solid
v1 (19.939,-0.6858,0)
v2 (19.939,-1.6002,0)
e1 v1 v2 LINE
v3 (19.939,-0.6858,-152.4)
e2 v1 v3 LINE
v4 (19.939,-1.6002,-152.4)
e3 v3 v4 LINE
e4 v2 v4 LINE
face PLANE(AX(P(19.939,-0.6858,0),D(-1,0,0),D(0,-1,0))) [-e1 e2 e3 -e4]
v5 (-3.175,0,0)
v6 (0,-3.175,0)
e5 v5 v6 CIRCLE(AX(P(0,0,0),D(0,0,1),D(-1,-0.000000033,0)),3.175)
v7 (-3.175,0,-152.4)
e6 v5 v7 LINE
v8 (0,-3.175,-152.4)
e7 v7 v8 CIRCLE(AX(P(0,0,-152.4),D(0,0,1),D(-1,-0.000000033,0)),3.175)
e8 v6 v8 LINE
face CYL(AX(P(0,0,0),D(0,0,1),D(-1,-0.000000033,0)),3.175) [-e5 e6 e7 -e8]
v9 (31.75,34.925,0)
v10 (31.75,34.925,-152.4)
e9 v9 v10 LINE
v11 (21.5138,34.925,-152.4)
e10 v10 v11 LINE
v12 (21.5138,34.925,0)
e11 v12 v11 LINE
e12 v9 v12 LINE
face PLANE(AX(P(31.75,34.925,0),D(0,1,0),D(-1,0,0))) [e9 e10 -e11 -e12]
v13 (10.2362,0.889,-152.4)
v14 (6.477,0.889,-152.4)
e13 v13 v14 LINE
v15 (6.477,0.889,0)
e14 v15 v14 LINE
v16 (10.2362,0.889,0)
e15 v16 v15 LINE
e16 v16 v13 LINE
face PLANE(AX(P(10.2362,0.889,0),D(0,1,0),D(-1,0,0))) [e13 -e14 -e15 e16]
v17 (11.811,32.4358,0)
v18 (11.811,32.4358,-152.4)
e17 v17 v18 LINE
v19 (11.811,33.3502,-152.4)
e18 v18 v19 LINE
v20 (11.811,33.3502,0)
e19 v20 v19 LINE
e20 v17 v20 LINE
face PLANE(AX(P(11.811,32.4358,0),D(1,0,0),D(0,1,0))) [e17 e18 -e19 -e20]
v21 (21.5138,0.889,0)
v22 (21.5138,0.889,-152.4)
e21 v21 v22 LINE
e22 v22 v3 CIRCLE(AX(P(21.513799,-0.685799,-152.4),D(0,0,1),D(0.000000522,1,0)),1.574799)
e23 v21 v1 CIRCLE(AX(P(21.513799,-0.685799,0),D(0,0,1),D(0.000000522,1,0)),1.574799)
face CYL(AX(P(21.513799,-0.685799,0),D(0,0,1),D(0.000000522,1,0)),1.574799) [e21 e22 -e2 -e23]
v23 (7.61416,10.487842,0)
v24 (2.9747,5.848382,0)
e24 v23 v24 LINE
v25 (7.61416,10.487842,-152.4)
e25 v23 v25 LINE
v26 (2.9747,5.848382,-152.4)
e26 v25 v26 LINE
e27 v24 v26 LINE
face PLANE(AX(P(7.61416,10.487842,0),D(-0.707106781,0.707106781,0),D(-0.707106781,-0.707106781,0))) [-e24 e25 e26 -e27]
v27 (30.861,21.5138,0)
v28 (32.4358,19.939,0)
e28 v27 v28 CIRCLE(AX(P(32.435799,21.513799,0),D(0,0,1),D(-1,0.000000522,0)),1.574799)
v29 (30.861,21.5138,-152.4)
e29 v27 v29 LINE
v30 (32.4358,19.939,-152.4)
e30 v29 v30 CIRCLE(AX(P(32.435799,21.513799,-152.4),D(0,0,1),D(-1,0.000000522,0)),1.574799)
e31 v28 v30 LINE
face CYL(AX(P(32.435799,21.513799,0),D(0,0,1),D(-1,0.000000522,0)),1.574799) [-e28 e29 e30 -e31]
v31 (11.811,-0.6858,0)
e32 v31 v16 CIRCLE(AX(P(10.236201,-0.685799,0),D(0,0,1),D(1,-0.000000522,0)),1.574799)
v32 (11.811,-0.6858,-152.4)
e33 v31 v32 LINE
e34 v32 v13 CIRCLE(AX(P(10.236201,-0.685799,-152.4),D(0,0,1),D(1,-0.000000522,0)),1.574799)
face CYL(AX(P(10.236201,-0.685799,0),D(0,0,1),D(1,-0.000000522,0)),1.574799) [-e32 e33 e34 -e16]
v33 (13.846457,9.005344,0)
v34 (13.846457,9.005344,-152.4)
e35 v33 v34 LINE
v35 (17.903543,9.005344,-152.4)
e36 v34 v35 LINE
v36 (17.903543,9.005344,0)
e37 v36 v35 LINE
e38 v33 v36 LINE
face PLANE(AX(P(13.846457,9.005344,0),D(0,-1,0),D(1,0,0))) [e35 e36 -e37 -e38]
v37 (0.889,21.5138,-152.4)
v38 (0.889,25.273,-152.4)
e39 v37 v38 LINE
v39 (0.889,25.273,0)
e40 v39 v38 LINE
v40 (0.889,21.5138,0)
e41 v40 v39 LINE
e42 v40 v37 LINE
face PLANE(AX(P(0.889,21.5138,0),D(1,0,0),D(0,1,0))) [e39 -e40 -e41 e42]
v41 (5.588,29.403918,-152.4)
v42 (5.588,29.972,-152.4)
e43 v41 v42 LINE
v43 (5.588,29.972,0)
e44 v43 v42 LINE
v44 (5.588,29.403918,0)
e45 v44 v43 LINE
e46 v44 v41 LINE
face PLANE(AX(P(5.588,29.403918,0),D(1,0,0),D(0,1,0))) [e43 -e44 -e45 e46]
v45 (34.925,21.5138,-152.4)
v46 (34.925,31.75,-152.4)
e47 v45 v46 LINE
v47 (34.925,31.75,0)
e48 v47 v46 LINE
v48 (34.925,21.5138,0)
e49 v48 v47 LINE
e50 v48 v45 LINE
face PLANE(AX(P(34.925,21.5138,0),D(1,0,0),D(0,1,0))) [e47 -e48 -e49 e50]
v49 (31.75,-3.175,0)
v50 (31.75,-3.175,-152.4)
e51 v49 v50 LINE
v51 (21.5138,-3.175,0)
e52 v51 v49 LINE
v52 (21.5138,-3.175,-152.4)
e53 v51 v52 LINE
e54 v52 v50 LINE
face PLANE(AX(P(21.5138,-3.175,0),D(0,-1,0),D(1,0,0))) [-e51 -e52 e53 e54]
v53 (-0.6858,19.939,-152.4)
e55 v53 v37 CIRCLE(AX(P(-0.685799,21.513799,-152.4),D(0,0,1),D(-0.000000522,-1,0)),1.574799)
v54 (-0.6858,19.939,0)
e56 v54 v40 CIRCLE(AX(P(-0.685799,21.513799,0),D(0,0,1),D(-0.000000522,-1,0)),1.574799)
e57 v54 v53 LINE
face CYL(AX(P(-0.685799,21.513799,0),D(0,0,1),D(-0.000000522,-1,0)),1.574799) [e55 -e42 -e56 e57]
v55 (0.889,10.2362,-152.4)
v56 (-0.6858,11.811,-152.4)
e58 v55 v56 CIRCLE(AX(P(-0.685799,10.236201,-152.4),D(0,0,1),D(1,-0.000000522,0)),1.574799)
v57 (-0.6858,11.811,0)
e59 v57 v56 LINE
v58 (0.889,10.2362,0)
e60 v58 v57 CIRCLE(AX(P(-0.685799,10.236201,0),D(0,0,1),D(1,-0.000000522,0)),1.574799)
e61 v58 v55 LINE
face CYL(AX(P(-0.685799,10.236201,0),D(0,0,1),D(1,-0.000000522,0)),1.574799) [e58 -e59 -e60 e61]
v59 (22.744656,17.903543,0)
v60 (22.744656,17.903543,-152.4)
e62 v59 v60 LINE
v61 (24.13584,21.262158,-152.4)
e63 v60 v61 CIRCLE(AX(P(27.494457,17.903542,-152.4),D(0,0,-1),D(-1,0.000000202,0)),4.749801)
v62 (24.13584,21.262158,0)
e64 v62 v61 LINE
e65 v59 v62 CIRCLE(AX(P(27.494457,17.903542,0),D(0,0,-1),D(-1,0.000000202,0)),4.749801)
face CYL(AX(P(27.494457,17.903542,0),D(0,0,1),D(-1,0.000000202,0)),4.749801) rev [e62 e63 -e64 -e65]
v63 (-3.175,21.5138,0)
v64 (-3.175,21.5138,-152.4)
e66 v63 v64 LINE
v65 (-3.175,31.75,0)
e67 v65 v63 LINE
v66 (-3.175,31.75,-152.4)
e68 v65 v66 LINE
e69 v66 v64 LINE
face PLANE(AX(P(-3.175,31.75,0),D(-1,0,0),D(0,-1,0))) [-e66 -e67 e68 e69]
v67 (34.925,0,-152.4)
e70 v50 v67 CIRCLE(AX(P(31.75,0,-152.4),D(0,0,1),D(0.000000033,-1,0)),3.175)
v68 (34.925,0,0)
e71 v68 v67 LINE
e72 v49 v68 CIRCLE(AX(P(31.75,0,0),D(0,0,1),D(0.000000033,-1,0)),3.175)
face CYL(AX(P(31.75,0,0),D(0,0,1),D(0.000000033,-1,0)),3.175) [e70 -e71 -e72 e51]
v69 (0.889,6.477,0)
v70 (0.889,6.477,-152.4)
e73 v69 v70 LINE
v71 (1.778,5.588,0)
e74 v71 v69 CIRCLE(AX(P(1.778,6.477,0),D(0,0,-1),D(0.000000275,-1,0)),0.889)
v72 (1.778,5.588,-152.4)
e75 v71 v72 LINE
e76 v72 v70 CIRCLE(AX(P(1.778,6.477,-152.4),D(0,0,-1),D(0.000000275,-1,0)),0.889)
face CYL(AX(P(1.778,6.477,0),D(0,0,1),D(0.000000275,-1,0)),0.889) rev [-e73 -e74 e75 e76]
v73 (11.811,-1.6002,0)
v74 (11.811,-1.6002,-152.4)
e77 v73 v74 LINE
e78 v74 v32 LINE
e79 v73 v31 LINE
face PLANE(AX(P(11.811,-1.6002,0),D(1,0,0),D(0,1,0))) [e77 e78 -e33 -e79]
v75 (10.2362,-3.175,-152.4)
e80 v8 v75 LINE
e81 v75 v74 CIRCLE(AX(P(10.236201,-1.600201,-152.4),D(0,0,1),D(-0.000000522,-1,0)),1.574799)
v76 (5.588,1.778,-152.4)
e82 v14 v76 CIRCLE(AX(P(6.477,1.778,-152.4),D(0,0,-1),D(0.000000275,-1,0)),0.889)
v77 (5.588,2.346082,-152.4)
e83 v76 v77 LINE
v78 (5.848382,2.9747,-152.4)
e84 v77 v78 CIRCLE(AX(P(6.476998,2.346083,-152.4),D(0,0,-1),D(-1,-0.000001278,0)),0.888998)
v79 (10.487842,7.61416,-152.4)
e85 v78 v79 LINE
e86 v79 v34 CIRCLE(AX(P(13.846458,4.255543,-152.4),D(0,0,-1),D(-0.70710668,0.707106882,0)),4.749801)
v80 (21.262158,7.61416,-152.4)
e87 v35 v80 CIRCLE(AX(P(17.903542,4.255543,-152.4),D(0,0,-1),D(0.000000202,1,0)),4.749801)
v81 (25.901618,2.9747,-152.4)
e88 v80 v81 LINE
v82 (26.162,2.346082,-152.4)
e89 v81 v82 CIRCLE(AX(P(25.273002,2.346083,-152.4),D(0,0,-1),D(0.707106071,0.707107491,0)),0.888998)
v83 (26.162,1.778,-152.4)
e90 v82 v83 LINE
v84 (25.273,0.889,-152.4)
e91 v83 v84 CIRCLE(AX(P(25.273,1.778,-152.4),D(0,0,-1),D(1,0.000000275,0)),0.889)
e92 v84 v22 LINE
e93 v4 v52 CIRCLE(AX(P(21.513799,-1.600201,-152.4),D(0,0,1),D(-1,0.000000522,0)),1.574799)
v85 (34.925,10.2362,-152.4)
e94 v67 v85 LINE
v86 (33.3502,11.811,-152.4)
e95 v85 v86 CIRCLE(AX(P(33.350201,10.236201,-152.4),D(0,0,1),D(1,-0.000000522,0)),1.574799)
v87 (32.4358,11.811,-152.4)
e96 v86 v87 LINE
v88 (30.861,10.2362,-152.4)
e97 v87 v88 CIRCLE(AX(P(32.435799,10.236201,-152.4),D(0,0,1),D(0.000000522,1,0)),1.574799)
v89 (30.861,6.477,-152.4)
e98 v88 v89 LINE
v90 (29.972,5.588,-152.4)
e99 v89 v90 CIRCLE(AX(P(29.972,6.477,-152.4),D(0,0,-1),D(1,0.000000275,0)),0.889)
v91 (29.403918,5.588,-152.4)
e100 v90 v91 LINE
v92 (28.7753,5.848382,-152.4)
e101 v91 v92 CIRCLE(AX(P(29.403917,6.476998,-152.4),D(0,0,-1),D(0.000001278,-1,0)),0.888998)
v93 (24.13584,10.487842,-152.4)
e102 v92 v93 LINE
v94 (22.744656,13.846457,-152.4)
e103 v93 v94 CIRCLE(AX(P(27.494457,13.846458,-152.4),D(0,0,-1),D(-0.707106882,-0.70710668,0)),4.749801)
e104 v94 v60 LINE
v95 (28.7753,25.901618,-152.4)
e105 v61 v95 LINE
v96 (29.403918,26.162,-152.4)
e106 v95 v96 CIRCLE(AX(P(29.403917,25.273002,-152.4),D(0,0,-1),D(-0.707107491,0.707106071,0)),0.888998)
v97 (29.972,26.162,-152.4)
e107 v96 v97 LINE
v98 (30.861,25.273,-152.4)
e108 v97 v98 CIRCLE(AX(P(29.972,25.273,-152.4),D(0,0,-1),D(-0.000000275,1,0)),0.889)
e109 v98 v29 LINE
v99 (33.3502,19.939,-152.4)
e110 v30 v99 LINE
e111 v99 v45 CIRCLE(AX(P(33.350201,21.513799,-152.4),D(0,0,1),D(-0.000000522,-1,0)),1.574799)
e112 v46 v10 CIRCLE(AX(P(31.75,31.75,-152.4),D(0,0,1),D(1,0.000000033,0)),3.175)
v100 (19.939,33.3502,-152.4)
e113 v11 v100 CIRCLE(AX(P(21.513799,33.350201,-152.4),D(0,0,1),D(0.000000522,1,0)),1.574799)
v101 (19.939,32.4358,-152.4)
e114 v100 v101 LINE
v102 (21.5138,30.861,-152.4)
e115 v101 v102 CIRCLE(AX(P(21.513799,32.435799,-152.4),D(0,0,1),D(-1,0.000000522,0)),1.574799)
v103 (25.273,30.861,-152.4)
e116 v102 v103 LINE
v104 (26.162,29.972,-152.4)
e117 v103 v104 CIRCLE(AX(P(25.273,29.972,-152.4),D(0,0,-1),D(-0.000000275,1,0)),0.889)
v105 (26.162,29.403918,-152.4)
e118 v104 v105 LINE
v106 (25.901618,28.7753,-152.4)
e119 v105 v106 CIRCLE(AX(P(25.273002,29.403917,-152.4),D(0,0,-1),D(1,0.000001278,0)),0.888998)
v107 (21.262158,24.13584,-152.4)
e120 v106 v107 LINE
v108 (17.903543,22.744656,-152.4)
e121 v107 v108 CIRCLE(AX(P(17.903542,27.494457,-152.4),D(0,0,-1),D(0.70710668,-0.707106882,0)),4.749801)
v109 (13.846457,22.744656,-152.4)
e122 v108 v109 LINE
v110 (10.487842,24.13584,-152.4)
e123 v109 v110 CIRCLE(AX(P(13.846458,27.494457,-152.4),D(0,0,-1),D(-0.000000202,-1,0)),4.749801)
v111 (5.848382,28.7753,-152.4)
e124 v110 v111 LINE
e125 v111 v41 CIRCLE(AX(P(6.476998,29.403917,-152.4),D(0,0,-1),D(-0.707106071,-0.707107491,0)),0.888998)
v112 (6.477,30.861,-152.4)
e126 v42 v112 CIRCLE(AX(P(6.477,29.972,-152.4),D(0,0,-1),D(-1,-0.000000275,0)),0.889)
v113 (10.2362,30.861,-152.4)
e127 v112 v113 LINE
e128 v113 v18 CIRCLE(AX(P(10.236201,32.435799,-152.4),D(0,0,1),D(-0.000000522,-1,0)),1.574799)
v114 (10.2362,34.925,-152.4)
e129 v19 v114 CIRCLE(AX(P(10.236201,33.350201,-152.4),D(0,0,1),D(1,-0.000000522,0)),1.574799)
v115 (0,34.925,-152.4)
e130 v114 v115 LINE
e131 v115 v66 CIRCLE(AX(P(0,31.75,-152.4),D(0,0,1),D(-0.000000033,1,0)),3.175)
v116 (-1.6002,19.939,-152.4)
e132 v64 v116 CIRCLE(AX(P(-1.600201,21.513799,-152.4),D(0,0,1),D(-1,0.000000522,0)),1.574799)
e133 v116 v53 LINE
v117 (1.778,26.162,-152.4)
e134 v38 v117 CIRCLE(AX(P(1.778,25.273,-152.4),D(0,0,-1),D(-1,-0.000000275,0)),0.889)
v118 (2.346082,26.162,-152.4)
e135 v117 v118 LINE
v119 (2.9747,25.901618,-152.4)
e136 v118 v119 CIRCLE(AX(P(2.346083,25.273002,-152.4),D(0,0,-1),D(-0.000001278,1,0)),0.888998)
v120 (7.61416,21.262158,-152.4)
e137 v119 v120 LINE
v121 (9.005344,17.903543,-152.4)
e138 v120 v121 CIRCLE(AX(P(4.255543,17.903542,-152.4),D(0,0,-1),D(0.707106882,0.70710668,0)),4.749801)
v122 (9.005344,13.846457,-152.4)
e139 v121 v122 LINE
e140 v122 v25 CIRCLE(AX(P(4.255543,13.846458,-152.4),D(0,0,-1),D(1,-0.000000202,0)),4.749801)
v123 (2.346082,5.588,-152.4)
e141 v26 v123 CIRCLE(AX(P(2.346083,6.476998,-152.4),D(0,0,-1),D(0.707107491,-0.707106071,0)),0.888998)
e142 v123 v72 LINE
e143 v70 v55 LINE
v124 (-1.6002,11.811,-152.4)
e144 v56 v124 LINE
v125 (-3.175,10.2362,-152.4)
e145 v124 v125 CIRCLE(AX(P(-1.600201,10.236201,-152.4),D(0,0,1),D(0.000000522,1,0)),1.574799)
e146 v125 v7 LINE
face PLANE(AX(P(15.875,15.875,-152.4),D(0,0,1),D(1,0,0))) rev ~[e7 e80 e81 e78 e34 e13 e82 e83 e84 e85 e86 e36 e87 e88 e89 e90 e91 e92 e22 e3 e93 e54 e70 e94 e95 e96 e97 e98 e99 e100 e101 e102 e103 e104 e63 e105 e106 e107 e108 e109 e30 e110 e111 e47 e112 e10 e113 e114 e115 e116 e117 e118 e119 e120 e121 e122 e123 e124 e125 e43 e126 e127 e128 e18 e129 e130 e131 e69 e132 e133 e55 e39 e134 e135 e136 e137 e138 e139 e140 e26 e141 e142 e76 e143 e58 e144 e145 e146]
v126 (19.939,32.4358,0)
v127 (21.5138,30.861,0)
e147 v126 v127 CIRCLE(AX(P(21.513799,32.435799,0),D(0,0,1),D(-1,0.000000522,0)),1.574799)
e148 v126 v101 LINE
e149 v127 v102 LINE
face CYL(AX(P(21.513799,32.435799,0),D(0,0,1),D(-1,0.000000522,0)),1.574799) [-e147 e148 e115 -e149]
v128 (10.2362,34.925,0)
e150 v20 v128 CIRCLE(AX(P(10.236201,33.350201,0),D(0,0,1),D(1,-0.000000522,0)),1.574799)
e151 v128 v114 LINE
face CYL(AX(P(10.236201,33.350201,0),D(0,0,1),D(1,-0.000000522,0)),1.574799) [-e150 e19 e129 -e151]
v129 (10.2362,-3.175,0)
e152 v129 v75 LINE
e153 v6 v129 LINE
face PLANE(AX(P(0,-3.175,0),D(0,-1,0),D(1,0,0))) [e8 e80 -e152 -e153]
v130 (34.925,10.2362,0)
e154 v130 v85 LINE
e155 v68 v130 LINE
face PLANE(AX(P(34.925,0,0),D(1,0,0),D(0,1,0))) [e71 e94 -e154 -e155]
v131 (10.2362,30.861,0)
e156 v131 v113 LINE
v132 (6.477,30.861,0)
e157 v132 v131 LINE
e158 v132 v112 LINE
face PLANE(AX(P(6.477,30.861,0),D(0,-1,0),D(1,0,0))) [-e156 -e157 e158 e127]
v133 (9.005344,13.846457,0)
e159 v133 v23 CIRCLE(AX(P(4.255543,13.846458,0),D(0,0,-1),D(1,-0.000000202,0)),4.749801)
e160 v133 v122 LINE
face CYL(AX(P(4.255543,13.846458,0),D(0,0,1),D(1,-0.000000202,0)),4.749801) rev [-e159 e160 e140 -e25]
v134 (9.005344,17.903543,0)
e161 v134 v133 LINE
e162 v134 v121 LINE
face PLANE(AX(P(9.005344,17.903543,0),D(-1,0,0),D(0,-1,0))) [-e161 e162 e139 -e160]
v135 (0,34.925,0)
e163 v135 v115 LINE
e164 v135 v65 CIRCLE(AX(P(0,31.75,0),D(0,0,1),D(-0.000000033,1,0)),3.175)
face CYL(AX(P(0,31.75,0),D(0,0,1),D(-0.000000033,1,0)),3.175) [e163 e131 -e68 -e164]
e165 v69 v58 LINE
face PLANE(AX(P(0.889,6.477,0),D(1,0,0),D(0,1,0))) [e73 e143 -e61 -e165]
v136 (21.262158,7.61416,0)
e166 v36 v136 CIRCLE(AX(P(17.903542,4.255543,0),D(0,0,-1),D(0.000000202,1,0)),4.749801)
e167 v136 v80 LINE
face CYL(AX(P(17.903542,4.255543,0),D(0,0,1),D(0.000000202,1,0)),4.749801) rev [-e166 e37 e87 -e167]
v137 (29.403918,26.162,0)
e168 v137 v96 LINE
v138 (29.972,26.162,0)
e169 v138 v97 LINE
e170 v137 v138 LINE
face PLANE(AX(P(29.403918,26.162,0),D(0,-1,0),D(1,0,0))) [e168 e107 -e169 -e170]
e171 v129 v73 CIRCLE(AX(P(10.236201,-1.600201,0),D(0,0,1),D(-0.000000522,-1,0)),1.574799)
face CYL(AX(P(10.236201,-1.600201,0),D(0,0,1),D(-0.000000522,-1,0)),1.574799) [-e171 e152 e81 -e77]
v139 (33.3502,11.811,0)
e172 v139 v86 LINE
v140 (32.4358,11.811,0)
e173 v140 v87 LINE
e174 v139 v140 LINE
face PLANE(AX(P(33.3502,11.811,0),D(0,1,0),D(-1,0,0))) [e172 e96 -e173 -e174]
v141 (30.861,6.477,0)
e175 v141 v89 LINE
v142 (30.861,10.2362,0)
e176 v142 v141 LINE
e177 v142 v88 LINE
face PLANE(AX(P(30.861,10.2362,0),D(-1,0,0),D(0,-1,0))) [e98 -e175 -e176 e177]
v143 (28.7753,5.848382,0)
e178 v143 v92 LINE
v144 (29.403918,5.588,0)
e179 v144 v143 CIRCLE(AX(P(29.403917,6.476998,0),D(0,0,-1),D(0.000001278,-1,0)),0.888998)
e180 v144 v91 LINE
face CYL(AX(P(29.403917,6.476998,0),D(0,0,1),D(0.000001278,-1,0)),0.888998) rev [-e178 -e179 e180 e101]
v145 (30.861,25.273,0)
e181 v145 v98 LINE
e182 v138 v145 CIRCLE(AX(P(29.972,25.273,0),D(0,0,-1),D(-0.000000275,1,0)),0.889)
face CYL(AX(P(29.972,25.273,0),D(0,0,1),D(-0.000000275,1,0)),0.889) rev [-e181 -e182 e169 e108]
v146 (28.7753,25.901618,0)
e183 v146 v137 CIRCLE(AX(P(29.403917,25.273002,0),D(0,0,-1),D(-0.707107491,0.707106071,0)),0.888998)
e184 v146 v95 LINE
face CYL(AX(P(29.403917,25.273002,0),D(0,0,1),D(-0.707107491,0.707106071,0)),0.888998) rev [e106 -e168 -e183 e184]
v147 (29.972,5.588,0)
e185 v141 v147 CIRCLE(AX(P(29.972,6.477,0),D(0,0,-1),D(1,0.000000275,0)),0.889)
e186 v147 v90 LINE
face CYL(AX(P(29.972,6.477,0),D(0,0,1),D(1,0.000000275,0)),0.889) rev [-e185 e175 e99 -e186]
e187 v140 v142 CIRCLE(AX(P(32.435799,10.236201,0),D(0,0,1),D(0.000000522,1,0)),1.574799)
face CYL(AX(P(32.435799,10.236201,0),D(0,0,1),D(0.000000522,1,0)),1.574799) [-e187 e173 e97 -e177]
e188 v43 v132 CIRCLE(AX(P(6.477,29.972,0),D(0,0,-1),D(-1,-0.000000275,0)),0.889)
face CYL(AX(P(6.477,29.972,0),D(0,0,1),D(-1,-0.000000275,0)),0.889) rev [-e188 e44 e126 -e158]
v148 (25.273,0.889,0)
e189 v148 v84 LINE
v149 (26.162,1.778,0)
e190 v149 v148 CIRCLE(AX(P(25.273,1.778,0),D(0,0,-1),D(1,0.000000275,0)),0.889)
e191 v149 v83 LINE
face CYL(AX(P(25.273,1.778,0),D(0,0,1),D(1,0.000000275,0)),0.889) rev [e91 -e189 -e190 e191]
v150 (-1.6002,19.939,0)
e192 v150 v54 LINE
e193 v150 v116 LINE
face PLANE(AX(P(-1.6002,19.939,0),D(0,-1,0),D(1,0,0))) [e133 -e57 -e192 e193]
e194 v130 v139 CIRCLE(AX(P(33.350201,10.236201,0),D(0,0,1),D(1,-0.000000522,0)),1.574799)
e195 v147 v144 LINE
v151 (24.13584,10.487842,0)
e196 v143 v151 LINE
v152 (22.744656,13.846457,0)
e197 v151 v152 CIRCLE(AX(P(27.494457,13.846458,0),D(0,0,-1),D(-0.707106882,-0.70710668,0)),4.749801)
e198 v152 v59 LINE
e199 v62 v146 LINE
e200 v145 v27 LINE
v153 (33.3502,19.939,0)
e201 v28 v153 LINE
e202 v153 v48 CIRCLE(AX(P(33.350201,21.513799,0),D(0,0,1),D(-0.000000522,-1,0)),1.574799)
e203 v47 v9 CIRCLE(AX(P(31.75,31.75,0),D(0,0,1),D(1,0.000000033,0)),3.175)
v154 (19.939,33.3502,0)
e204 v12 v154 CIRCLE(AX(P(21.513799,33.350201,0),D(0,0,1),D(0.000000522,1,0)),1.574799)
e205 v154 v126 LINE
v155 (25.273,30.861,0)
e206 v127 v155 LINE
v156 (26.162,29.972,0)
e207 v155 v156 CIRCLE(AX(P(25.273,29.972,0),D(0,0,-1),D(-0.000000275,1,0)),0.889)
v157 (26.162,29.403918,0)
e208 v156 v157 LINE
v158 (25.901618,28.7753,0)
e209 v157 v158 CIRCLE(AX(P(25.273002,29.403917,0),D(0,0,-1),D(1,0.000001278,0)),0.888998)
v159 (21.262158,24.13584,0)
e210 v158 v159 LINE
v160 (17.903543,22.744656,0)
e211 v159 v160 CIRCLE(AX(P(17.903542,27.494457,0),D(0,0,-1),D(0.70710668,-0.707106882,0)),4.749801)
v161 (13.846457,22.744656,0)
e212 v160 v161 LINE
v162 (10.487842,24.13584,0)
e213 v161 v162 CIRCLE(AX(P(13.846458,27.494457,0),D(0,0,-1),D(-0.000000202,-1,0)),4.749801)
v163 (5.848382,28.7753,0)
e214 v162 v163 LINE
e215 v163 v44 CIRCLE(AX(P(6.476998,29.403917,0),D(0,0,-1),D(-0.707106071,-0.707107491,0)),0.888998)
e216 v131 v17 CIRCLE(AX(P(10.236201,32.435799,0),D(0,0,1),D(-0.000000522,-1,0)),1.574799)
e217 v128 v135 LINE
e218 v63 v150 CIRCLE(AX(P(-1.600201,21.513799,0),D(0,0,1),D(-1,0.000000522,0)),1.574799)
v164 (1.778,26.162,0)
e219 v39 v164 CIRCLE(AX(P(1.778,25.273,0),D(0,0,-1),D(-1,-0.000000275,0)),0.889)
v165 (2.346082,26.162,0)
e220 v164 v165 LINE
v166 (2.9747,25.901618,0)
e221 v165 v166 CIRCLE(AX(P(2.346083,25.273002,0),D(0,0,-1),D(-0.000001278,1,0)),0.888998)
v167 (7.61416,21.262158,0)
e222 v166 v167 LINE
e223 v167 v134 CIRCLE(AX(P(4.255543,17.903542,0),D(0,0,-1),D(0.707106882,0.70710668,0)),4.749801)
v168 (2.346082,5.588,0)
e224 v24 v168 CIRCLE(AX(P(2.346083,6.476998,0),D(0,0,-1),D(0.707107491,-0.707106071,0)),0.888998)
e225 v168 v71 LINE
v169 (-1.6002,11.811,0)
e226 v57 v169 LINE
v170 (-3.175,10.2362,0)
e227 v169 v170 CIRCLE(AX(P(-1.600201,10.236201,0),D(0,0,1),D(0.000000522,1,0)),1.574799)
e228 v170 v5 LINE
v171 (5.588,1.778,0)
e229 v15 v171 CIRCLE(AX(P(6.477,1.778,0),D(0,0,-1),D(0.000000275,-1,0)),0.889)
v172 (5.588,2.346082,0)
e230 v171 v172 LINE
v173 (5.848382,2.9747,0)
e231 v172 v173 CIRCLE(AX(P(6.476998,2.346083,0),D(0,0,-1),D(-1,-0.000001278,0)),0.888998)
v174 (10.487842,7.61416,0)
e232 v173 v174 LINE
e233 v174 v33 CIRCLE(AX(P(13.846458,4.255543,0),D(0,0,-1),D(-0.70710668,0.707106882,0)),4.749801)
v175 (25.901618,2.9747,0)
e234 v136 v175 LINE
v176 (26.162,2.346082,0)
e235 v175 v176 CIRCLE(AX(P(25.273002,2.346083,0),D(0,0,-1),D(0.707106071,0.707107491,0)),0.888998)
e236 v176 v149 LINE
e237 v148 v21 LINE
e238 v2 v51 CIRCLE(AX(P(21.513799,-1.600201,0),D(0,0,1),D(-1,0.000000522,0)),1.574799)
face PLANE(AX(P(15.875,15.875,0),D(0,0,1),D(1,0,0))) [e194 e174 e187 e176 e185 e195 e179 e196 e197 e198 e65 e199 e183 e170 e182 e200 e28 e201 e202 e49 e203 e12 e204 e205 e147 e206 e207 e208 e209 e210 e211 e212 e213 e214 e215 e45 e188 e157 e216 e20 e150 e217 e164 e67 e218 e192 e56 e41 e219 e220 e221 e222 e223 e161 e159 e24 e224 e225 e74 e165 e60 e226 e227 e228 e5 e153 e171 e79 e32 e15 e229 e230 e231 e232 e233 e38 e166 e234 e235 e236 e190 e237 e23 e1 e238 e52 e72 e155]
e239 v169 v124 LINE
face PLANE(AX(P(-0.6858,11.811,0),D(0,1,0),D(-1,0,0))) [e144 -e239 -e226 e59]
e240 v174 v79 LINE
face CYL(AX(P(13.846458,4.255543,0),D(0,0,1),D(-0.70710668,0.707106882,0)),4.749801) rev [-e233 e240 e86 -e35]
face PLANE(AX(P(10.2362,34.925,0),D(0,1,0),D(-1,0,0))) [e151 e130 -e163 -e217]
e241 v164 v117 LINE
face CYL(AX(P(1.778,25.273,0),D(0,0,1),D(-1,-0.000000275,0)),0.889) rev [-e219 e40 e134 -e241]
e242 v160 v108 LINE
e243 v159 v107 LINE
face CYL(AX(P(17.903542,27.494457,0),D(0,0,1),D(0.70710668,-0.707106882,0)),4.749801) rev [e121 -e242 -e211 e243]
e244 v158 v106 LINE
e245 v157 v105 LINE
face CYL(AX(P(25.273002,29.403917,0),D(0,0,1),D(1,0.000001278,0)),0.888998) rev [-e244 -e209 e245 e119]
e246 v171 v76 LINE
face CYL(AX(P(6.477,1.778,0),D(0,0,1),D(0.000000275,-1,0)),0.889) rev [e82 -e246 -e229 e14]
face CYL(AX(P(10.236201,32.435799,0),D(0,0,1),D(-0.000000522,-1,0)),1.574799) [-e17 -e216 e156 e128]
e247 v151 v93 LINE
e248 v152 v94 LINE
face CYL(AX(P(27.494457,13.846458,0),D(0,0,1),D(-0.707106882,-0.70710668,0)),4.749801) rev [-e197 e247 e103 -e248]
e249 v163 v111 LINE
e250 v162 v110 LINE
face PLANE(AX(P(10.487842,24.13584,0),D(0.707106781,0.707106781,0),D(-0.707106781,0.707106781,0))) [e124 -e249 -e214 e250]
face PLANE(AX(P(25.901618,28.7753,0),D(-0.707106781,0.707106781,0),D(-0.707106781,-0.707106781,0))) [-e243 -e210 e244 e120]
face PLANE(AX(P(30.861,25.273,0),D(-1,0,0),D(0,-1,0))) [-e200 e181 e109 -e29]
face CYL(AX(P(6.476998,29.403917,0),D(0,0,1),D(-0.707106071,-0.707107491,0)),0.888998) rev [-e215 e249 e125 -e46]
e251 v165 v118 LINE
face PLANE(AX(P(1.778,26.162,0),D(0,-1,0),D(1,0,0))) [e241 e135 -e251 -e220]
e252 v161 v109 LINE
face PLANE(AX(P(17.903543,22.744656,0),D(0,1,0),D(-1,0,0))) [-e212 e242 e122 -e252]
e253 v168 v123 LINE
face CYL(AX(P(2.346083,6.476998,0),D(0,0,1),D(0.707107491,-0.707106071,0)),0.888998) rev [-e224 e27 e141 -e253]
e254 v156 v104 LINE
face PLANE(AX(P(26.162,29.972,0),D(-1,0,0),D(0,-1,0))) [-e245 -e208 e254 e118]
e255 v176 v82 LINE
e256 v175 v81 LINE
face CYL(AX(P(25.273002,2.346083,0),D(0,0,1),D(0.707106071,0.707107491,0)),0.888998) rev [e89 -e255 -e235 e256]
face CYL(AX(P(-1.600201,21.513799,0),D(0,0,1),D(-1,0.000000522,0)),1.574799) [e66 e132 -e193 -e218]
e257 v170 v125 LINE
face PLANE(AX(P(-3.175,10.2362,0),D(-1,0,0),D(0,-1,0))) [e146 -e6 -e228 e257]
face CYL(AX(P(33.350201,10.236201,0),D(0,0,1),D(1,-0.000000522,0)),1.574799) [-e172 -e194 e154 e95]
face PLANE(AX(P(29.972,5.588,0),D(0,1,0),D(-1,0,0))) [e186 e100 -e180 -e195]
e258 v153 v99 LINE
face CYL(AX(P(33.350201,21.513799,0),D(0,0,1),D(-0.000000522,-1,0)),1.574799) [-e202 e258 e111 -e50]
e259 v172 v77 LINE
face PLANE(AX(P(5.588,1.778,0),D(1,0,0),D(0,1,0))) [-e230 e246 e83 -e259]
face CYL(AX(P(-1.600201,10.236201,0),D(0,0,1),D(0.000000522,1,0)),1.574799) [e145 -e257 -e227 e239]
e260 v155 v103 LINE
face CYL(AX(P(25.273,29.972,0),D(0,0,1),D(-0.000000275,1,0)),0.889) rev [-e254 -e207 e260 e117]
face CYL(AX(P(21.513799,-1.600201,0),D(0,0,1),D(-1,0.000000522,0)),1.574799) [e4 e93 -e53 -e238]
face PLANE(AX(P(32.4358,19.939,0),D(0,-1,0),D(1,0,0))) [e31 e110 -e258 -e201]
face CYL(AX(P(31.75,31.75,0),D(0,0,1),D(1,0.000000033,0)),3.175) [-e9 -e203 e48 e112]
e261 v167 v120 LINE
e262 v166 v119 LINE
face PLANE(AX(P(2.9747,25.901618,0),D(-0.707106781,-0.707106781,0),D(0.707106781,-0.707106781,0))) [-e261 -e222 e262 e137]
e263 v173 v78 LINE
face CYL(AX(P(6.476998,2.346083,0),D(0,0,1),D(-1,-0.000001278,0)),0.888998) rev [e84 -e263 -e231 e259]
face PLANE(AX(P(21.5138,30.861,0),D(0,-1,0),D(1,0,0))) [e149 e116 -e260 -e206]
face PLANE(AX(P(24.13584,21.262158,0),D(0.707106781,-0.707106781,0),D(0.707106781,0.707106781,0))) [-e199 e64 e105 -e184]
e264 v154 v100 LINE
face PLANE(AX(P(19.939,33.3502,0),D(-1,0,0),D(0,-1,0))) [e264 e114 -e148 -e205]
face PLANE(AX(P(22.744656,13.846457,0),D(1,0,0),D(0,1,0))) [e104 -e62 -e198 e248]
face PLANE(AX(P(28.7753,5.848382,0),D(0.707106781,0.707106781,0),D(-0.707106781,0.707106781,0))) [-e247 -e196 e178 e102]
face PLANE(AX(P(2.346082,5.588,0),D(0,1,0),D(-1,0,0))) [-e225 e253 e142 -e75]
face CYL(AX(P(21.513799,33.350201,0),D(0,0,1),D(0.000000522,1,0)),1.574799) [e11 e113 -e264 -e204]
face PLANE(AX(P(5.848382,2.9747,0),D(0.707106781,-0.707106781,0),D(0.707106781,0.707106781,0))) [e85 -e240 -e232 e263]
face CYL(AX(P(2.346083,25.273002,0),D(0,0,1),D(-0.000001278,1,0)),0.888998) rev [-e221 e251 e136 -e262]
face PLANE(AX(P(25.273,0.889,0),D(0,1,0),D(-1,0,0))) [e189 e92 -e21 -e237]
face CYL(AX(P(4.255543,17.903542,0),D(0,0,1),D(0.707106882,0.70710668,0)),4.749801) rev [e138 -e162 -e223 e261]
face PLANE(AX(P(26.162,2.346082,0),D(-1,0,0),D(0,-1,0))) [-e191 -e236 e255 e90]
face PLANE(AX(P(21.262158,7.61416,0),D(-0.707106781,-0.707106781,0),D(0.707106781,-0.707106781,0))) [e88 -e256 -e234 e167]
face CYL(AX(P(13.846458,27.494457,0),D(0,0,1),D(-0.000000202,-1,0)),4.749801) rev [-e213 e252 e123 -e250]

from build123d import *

# Parameters (mm, degrees)
F1_DEPTH = 152.4


with BuildPart() as f1:
    # F0 (on Top) → F1 (new body)
    with BuildSketch(Plane.XY):
        with BuildLine():
            ThreePointArc((0, 34.925), (-2.245064, 33.995064), (-3.175, 31.75))
            Line((-3.175, 31.75), (-3.175, 21.5138))
            ThreePointArc((-3.175, 21.5138), (-2.713752, 20.400248), (-1.6002, 19.939))
            Line((-1.6002, 19.939), (-0.6858, 19.939))
            ThreePointArc((-0.6858, 19.939), (0.427752, 20.400248), (0.889, 21.5138))
            Line((0.889, 21.5138), (0.889, 25.273))
            ThreePointArc((0.889, 25.273), (1.149382, 25.901618), (1.778, 26.162))
            Line((1.778, 26.162), (2.346082, 26.162))
            ThreePointArc((2.346082, 26.162), (2.686288, 26.094329), (2.9747, 25.901618))
            Line((2.9747, 25.901618), (7.61416, 21.262158))
            ThreePointArc((7.61416, 21.262158), (8.643787, 19.721212), (9.005344, 17.903543))
            Line((9.005344, 17.903543), (9.005344, 13.846457))
            ThreePointArc((9.005344, 13.846457), (8.643787, 12.028788), (7.61416, 10.487842))
            Line((7.61416, 10.487842), (2.9747, 5.848382))
            ThreePointArc((2.9747, 5.848382), (2.686288, 5.655671), (2.346082, 5.588))
            Line((2.346082, 5.588), (1.778, 5.588))
            ThreePointArc((1.778, 5.588), (1.149382, 5.848382), (0.889, 6.477))
            Line((0.889, 6.477), (0.889, 10.2362))
            ThreePointArc((0.889, 10.2362), (0.427752, 11.349752), (-0.6858, 11.811))
            Line((-0.6858, 11.811), (-1.6002, 11.811))
            ThreePointArc((-1.6002, 11.811), (-2.713752, 11.349752), (-3.175, 10.2362))
            Line((-3.175, 10.2362), (-3.175, 0))
            ThreePointArc((-3.175, 0), (-2.245064, -2.245064), (0, -3.175))
            Line((0, -3.175), (10.2362, -3.175))
            ThreePointArc((10.2362, -3.175), (11.349752, -2.713752), (11.811, -1.6002))
            Line((11.811, -1.6002), (11.811, -0.6858))
            ThreePointArc((11.811, -0.6858), (11.349752, 0.427752), (10.2362, 0.889))
            Line((10.2362, 0.889), (6.477, 0.889))
            ThreePointArc((6.477, 0.889), (5.848382, 1.149382), (5.588, 1.778))
            Line((5.588, 1.778), (5.588, 2.346082))
            ThreePointArc((5.588, 2.346082), (5.655671, 2.686288), (5.848382, 2.9747))
            Line((5.848382, 2.9747), (10.487842, 7.61416))
            ThreePointArc((10.487842, 7.61416), (12.028788, 8.643787), (13.846457, 9.005344))
            Line((13.846457, 9.005344), (17.903543, 9.005344))
            ThreePointArc((17.903543, 9.005344), (19.721212, 8.643787), (21.262158, 7.61416))
            Line((21.262158, 7.61416), (25.901618, 2.9747))
            ThreePointArc((25.901618, 2.9747), (26.094329, 2.686288), (26.162, 2.346082))
            Line((26.162, 2.346082), (26.162, 1.778))
            ThreePointArc((26.162, 1.778), (25.901618, 1.149382), (25.273, 0.889))
            Line((25.273, 0.889), (21.5138, 0.889))
            ThreePointArc((21.5138, 0.889), (20.400248, 0.427752), (19.939, -0.6858))
            Line((19.939, -0.6858), (19.939, -1.6002))
            ThreePointArc((19.939, -1.6002), (20.400248, -2.713752), (21.5138, -3.175))
            Line((21.5138, -3.175), (31.75, -3.175))
            ThreePointArc((31.75, -3.175), (33.995064, -2.245064), (34.925, 0))
            Line((34.925, 0), (34.925, 10.2362))
            ThreePointArc((34.925, 10.2362), (34.463752, 11.349752), (33.3502, 11.811))
            Line((33.3502, 11.811), (32.4358, 11.811))
            ThreePointArc((32.4358, 11.811), (31.322248, 11.349752), (30.861, 10.2362))
            Line((30.861, 10.2362), (30.861, 6.477))
            ThreePointArc((30.861, 6.477), (30.600618, 5.848382), (29.972, 5.588))
            Line((29.972, 5.588), (29.403918, 5.588))
            ThreePointArc((29.403918, 5.588), (29.063712, 5.655671), (28.7753, 5.848382))
            Line((28.7753, 5.848382), (24.13584, 10.487842))
            ThreePointArc((24.13584, 10.487842), (23.106213, 12.028788), (22.744656, 13.846457))
            Line((22.744656, 13.846457), (22.744656, 17.903543))
            ThreePointArc((22.744656, 17.903543), (23.106213, 19.721212), (24.13584, 21.262158))
            Line((24.13584, 21.262158), (28.7753, 25.901618))
            ThreePointArc((28.7753, 25.901618), (29.063712, 26.094329), (29.403918, 26.162))
            Line((29.403918, 26.162), (29.972, 26.162))
            ThreePointArc((29.972, 26.162), (30.600618, 25.901618), (30.861, 25.273))
            Line((30.861, 25.273), (30.861, 21.5138))
            ThreePointArc((30.861, 21.5138), (31.322248, 20.400248), (32.4358, 19.939))
            Line((32.4358, 19.939), (33.3502, 19.939))
            ThreePointArc((33.3502, 19.939), (34.463752, 20.400248), (34.925, 21.5138))
            Line((34.925, 21.5138), (34.925, 31.75))
            ThreePointArc((34.925, 31.75), (33.995064, 33.995064), (31.75, 34.925))
            Line((31.75, 34.925), (21.5138, 34.925))
            ThreePointArc((21.5138, 34.925), (20.400248, 34.463752), (19.939, 33.3502))
            Line((19.939, 33.3502), (19.939, 32.4358))
            ThreePointArc((19.939, 32.4358), (20.400248, 31.322248), (21.5138, 30.861))
            Line((21.5138, 30.861), (25.273, 30.861))
            ThreePointArc((25.273, 30.861), (25.901618, 30.600618), (26.162, 29.972))
            Line((26.162, 29.972), (26.162, 29.403918))
            ThreePointArc((26.162, 29.403918), (26.094329, 29.063712), (25.901618, 28.7753))
            Line((25.901618, 28.7753), (21.262158, 24.13584))
            ThreePointArc((21.262158, 24.13584), (19.721212, 23.106213), (17.903543, 22.744656))
            Line((17.903543, 22.744656), (13.846457, 22.744656))
            ThreePointArc((13.846457, 22.744656), (12.028788, 23.106213), (10.487842, 24.13584))
            Line((10.487842, 24.13584), (5.848382, 28.7753))
            ThreePointArc((5.848382, 28.7753), (5.655671, 29.063712), (5.588, 29.403918))
            Line((5.588, 29.403918), (5.588, 29.972))
            ThreePointArc((5.588, 29.972), (5.848382, 30.600618), (6.477, 30.861))
            Line((6.477, 30.861), (10.2362, 30.861))
            ThreePointArc((10.2362, 30.861), (11.349752, 31.322248), (11.811, 32.4358))
            Line((11.811, 32.4358), (11.811, 33.3502))
            ThreePointArc((11.811, 33.3502), (11.349752, 34.463752), (10.2362, 34.925))
            Line((10.2362, 34.925), (0, 34.925))
        make_face()
    extrude(amount=-F1_DEPTH)


solid = f1.part
